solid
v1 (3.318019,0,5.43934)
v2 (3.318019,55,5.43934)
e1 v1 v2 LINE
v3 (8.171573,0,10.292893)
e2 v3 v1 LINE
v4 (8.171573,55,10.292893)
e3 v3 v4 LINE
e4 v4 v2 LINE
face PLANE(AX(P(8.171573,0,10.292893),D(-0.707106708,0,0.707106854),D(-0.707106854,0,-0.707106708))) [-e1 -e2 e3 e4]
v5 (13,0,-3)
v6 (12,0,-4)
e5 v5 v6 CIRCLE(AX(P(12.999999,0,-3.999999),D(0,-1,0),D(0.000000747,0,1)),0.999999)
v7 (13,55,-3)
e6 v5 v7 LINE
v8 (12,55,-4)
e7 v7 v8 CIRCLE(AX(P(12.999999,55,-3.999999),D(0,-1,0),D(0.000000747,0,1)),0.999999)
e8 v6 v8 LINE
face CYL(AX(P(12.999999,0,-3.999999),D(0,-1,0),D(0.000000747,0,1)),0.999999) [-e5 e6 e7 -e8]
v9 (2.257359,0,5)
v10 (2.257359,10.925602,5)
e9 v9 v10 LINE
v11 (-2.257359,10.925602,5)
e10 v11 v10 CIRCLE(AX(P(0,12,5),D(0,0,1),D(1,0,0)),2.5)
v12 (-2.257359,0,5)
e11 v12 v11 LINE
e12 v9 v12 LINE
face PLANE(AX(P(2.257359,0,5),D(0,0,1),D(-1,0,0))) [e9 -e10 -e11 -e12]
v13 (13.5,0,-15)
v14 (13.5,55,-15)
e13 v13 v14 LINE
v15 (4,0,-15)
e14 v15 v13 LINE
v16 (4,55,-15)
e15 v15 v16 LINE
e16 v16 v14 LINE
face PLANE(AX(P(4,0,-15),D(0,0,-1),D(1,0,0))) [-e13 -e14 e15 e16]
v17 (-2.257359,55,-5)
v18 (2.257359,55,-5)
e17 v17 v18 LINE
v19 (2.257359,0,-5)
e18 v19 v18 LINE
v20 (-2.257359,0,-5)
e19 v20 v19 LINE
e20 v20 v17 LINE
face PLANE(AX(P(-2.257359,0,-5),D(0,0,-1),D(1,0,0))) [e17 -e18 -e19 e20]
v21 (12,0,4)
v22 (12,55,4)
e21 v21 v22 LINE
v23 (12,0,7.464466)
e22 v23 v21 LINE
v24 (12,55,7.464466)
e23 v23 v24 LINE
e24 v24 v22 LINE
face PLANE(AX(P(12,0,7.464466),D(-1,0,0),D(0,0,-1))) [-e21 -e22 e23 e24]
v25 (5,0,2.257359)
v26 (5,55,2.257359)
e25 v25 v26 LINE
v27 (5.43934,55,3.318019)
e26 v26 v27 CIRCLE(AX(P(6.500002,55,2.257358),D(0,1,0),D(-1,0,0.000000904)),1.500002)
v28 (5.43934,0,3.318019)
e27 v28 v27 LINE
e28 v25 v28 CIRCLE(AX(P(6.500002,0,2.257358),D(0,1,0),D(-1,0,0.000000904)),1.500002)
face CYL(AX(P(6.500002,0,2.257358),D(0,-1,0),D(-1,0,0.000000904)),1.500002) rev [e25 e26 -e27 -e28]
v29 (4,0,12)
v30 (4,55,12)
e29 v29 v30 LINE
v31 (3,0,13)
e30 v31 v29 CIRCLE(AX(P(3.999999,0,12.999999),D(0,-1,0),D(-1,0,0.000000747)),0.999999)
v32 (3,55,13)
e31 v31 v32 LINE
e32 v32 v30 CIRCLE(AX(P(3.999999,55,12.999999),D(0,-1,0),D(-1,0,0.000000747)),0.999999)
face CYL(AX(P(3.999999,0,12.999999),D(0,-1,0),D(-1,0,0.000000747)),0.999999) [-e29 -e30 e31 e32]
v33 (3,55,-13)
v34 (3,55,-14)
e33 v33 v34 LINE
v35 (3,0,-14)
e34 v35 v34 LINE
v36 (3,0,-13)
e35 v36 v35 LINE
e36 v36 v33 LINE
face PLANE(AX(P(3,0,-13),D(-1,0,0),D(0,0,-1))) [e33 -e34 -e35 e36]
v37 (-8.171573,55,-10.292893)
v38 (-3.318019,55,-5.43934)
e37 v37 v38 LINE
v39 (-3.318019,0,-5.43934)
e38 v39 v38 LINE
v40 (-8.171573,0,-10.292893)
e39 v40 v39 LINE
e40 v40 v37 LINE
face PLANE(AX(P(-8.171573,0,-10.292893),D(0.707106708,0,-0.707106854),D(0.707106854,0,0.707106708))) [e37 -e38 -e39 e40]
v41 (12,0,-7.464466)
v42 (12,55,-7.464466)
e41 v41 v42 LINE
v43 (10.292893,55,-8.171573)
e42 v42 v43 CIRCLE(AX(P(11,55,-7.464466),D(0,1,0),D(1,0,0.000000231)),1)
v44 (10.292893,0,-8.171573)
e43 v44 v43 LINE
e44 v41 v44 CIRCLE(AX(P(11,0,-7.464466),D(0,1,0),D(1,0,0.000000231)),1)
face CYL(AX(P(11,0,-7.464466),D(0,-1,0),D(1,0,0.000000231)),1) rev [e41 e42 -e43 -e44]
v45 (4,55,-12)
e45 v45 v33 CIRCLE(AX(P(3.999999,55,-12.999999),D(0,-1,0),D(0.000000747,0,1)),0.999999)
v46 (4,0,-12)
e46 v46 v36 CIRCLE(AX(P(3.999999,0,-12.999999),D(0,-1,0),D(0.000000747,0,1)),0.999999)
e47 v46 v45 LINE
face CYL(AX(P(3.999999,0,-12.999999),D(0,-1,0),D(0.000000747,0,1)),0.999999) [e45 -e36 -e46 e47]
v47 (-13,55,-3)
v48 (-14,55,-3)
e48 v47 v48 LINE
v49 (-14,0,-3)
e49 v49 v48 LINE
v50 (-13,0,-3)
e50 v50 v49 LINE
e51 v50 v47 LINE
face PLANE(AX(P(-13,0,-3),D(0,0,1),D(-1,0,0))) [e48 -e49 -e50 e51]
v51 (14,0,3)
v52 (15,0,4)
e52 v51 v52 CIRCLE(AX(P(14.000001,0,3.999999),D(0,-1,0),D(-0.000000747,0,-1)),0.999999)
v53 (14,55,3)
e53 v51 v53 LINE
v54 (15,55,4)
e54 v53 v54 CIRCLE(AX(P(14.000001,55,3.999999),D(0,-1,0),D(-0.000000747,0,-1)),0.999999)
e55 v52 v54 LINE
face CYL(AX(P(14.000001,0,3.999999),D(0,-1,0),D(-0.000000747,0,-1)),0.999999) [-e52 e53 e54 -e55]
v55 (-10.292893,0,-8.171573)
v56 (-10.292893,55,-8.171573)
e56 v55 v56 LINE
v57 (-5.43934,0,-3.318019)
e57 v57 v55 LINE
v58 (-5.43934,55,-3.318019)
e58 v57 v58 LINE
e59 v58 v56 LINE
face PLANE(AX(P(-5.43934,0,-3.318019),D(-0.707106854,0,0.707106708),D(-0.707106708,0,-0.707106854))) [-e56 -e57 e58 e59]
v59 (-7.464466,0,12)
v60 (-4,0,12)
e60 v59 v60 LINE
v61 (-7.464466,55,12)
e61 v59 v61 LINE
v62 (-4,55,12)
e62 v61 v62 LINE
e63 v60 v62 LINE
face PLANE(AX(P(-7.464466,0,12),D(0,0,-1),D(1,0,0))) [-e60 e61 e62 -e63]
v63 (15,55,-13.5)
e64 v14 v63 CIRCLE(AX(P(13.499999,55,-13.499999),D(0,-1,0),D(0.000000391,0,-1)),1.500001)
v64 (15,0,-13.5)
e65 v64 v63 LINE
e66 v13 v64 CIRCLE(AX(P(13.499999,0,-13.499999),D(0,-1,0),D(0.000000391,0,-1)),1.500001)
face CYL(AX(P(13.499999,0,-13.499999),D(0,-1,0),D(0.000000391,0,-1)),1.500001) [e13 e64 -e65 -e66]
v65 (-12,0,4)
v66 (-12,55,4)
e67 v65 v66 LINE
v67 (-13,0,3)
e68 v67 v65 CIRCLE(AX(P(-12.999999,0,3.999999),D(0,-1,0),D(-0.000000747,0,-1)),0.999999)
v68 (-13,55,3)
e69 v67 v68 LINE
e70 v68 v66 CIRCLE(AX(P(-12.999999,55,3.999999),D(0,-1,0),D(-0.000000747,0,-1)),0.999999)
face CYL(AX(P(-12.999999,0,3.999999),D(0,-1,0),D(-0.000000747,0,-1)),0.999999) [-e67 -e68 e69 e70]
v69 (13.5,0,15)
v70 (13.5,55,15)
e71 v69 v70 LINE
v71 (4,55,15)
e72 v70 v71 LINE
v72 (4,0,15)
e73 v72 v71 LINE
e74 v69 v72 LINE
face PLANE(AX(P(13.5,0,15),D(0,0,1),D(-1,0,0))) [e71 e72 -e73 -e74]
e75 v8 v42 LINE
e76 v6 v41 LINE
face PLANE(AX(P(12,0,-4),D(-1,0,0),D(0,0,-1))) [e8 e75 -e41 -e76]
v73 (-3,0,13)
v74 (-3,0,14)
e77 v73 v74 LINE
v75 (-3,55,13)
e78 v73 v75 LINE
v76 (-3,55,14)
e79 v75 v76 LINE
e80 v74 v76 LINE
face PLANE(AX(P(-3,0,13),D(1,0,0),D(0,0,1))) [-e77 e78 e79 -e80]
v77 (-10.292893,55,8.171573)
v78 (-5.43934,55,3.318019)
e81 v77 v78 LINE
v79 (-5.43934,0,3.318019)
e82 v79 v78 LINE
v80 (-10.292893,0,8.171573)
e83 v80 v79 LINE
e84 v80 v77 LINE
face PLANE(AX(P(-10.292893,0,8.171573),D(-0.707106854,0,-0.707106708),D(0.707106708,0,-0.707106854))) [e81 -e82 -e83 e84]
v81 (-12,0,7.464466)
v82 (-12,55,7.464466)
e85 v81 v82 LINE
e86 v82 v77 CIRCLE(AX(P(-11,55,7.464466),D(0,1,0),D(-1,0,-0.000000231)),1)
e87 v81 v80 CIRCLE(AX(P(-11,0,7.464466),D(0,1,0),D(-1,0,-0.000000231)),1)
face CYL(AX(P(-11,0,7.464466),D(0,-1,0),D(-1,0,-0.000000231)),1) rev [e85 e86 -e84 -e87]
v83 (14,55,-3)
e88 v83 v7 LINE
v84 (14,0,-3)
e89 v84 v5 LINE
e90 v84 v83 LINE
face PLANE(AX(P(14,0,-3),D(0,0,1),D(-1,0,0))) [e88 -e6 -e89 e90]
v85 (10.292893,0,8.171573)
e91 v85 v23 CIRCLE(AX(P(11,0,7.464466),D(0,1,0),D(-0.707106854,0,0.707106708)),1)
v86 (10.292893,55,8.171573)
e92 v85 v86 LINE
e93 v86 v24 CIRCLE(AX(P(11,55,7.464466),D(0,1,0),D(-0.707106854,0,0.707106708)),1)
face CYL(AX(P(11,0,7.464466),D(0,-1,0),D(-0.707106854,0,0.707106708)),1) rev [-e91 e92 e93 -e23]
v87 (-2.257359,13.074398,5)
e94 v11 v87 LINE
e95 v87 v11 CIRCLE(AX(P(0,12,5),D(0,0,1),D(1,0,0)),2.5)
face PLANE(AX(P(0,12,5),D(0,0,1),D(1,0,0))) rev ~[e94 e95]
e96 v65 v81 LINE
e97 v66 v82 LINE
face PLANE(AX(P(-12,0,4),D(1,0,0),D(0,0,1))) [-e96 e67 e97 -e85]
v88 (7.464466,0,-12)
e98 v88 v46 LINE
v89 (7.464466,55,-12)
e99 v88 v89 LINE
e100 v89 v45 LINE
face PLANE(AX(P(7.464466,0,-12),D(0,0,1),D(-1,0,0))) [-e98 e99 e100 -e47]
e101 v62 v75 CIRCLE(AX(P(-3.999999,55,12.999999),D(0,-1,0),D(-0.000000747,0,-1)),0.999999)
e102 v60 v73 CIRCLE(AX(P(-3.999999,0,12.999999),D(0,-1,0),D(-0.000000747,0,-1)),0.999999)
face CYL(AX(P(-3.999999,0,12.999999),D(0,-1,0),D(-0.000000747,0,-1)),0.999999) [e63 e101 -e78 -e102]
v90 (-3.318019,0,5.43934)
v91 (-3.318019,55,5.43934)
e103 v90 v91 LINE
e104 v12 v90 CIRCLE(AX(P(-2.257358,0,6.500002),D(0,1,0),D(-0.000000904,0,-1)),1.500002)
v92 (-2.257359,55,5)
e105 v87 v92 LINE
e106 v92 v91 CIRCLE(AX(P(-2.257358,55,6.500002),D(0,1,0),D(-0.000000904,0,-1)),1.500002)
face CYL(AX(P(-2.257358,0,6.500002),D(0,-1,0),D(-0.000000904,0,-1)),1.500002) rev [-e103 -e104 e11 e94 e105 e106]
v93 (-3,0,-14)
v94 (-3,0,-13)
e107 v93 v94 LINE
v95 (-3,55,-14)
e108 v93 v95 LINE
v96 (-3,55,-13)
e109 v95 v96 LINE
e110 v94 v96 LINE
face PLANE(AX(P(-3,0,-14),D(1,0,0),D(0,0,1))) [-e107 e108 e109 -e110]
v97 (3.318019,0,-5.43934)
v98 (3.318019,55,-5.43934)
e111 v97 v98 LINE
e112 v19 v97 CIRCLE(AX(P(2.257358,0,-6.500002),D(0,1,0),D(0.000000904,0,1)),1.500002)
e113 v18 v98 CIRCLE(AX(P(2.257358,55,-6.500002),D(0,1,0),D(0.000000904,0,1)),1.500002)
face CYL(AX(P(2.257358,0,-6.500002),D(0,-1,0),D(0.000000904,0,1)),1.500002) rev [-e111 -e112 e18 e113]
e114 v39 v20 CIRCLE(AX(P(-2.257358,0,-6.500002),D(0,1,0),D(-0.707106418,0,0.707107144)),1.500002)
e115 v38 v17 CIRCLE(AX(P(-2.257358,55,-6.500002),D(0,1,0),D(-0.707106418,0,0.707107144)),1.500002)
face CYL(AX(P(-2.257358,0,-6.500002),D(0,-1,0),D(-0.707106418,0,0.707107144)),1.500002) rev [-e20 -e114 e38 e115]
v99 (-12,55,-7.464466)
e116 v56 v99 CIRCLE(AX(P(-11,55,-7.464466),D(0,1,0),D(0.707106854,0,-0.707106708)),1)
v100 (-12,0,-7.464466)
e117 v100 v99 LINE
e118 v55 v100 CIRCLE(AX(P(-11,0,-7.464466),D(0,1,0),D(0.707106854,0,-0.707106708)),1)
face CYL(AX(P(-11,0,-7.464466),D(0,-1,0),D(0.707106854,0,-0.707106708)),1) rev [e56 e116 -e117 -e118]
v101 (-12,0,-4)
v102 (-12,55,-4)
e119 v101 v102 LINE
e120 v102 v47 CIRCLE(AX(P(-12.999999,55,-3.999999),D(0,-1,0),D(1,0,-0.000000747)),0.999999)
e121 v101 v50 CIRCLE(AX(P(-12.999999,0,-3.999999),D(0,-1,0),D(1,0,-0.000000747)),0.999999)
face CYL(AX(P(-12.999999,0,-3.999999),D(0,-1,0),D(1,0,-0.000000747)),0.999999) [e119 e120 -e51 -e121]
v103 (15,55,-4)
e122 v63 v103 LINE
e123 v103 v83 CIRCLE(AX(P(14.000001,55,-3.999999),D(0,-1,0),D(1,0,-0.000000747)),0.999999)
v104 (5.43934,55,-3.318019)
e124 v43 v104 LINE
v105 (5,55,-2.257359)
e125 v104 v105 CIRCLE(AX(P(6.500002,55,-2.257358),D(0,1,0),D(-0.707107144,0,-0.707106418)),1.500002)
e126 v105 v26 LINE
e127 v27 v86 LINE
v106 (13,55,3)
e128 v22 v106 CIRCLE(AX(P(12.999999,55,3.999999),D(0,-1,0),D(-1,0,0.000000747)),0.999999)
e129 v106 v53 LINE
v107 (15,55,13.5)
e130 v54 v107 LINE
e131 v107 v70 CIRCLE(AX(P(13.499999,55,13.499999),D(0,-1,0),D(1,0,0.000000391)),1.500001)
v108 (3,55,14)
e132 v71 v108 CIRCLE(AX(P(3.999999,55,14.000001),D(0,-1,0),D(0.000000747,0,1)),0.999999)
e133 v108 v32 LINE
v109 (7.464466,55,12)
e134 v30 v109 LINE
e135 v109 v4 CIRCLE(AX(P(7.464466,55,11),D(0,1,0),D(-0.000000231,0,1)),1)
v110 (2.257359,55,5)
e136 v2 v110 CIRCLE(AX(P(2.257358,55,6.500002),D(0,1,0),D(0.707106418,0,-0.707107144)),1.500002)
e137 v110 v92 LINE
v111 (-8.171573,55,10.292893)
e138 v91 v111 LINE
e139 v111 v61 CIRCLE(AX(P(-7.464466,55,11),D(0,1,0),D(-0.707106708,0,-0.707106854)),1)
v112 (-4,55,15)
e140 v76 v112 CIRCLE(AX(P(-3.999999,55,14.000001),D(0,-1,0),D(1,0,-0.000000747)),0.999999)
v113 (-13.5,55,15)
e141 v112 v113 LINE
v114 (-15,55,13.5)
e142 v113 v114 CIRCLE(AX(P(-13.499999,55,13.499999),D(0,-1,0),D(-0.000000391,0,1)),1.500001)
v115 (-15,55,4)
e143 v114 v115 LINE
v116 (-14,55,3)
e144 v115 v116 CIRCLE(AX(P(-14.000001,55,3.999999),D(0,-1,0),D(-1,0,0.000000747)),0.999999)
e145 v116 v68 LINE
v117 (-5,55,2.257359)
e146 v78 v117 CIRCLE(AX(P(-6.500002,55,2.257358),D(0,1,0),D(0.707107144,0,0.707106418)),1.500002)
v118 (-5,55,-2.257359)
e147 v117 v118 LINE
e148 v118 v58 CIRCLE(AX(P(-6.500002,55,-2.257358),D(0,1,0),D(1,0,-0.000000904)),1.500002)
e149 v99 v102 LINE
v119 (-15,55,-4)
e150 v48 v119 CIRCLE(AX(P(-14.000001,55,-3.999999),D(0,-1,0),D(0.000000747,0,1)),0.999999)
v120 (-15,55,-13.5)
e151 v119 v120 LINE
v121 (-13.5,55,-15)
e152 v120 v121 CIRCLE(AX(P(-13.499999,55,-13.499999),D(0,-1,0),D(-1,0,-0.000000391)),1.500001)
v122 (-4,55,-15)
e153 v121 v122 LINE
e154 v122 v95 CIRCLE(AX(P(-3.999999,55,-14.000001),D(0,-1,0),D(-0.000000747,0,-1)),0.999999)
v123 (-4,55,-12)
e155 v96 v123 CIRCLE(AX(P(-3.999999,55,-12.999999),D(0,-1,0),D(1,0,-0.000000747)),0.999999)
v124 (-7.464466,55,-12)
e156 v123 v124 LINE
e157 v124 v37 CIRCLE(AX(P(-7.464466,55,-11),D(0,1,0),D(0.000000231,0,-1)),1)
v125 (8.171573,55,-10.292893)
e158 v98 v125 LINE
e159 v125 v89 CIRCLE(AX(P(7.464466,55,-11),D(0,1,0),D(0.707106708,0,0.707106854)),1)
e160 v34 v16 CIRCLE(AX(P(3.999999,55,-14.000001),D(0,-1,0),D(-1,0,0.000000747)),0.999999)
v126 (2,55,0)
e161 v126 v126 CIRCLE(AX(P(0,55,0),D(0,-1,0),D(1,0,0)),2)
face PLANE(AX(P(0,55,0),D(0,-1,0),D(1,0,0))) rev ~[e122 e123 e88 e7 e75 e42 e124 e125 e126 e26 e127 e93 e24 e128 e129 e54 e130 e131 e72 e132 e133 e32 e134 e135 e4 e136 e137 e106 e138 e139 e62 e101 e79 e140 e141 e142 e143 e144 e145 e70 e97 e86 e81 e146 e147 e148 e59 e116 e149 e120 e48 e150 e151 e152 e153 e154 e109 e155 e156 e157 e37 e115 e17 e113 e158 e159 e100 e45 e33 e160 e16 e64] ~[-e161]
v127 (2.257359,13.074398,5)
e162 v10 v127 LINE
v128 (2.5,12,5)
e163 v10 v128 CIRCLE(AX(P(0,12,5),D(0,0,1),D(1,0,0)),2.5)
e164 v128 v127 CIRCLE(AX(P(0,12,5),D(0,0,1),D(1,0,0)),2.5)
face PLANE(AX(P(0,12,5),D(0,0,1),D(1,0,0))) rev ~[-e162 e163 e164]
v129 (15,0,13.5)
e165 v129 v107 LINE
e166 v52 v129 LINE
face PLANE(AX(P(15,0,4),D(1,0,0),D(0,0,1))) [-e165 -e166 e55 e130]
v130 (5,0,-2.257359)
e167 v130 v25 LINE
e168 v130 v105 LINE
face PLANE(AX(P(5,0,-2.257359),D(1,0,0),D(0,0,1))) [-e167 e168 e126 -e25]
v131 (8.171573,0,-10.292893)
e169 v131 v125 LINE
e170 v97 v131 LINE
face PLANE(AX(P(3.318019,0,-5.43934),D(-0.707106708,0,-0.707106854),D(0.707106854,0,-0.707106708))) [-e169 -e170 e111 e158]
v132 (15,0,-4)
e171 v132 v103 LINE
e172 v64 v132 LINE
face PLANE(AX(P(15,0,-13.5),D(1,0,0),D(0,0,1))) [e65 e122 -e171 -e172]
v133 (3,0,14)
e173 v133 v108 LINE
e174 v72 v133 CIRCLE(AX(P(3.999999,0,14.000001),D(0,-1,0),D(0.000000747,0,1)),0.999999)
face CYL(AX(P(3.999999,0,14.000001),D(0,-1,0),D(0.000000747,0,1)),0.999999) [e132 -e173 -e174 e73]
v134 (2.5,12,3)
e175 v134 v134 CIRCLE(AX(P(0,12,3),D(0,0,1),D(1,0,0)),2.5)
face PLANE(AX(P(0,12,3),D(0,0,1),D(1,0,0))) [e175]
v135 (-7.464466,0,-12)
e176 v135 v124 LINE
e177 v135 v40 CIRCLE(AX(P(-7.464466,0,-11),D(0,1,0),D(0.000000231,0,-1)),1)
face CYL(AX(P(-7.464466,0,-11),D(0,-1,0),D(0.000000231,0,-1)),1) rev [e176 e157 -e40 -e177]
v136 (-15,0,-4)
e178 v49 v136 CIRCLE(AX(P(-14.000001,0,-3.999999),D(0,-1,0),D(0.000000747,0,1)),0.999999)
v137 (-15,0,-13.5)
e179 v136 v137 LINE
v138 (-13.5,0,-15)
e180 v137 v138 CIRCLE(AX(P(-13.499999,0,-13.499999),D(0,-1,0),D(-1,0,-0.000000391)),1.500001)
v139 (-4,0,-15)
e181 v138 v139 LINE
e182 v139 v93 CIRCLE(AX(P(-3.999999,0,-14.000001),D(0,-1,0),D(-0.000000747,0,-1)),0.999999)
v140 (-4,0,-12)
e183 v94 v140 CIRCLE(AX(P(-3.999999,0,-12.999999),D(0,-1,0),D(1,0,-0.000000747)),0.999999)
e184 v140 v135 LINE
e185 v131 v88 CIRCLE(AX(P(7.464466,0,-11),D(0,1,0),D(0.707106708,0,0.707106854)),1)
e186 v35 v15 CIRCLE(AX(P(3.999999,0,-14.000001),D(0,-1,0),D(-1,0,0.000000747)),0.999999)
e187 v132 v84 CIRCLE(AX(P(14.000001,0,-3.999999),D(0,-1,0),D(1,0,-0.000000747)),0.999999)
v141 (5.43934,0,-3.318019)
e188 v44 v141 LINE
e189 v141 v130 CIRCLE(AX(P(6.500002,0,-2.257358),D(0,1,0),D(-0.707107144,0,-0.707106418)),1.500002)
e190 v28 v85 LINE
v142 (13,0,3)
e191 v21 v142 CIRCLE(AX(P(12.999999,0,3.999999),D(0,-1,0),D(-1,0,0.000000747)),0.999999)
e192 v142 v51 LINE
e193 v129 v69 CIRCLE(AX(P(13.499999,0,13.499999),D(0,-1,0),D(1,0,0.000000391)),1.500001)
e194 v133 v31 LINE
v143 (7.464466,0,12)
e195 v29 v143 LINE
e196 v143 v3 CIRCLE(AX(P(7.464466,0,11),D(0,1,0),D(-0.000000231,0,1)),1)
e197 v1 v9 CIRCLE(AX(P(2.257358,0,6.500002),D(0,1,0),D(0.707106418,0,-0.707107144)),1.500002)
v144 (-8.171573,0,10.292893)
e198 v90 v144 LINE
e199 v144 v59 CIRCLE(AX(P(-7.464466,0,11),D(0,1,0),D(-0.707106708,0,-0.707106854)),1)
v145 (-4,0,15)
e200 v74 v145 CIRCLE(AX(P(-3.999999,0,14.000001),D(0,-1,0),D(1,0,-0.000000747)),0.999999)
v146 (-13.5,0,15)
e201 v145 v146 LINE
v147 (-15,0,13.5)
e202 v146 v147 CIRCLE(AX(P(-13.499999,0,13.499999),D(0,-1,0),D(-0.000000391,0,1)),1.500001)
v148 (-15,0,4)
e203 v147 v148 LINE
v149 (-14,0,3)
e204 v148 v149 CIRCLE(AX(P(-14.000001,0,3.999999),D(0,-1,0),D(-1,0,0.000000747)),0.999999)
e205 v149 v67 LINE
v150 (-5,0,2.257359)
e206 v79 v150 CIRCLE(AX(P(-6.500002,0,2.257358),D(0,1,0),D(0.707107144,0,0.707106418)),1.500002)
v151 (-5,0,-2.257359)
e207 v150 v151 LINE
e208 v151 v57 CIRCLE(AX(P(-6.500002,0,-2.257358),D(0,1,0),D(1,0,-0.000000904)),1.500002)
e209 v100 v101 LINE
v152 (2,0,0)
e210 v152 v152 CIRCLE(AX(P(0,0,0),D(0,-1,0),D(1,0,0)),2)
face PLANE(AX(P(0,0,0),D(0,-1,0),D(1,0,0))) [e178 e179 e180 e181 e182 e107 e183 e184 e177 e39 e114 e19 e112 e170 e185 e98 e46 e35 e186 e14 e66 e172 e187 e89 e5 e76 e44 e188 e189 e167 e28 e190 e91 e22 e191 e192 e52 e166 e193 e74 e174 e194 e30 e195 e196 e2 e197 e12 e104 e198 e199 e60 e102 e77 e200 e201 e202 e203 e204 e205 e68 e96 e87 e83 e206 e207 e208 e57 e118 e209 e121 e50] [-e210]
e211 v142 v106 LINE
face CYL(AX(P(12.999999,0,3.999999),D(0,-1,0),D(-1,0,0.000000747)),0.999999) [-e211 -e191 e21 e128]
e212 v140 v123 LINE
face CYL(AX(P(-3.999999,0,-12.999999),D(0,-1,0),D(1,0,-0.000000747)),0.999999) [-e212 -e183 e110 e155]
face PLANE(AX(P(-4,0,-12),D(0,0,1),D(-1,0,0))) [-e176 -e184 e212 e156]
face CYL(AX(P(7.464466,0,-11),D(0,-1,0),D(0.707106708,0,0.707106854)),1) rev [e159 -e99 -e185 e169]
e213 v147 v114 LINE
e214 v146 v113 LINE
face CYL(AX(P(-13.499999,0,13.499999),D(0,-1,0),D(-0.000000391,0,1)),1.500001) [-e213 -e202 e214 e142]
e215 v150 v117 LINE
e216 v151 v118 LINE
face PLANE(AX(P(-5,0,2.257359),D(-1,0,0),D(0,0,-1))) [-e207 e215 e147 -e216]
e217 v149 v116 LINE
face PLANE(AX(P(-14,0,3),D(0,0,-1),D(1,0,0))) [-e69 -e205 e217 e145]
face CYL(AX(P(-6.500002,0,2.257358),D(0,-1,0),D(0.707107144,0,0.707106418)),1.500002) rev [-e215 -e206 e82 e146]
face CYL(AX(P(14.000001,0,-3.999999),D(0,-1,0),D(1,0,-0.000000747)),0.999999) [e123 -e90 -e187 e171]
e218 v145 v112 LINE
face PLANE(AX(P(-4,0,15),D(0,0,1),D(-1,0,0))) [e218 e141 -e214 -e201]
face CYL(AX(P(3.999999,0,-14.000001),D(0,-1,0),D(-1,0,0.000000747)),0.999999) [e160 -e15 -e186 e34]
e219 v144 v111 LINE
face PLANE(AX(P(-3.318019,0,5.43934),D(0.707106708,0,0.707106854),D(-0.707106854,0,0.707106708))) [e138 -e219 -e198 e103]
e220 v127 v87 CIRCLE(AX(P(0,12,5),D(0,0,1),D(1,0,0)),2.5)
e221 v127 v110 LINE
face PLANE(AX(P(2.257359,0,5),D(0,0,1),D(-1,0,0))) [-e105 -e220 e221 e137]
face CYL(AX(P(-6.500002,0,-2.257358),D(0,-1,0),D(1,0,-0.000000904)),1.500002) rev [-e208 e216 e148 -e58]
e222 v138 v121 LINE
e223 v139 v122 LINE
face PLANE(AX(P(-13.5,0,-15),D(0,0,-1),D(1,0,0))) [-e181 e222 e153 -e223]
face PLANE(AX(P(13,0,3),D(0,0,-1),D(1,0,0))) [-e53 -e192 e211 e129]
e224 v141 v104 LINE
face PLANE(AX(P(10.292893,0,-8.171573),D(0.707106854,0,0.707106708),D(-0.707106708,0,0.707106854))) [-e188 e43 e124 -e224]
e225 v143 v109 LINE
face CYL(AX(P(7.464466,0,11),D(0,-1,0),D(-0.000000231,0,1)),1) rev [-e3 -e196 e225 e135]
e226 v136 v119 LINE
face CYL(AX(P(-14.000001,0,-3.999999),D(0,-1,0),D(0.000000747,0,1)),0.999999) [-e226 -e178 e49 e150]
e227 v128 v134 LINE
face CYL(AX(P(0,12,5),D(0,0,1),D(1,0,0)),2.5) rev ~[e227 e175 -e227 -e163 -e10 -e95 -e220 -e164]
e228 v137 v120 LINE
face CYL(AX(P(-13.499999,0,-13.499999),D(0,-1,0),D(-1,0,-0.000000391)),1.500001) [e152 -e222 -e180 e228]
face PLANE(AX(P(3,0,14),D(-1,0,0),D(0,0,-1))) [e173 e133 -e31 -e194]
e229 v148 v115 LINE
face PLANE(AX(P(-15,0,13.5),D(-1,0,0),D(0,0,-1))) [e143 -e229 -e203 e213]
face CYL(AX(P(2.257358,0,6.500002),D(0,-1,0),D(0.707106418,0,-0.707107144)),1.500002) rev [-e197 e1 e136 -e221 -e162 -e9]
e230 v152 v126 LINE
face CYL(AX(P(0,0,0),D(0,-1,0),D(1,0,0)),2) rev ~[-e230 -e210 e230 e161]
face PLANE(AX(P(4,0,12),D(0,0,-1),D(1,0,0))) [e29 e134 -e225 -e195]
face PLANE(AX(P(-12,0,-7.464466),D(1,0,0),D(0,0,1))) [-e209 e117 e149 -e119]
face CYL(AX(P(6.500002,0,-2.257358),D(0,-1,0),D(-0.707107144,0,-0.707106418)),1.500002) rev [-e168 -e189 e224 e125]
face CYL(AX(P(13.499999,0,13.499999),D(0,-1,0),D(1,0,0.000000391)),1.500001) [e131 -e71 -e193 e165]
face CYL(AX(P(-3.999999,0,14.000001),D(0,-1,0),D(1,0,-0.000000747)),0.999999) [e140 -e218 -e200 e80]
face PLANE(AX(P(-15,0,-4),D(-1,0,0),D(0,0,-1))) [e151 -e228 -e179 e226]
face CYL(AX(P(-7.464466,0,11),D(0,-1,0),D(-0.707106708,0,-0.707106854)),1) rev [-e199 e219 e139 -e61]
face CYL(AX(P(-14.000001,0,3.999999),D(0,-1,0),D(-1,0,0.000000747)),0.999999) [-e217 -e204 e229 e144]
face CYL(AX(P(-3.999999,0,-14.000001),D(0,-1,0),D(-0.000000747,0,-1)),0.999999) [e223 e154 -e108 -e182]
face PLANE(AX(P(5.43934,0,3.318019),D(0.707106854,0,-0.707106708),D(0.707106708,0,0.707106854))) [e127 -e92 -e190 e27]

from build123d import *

# Parameters (mm, degrees)
F0_R     = 2
F1_DEPTH = 55
F2_R     = 2.5
F3_DEPTH = 2


with BuildPart() as f1:
    # F0 (on Front) → F1 (new body)
    with BuildSketch(Plane.XZ):
        with BuildLine():
            ThreePointArc((15, 13.5), (14.56066, 14.56066), (13.5, 15))
            Line((13.5, 15), (4, 15))
            ThreePointArc((4, 15), (3.292893, 14.707107), (3, 14))
            Line((3, 14), (3, 13))
            ThreePointArc((3, 13), (3.292893, 12.292893), (4, 12))
            Line((4, 12), (7.464466, 12))
            ThreePointArc((7.464466, 12), (8.388346, 11.382683), (8.171573, 10.292893))
            Line((8.171573, 10.292893), (3.318019, 5.43934))
            ThreePointArc((3.318019, 5.43934), (2.831384, 5.114181), (2.257359, 5))
            Line((2.257359, 5), (-2.257359, 5))
            ThreePointArc((-2.257359, 5), (-2.831384, 5.114181), (-3.318019, 5.43934))
            Line((-3.318019, 5.43934), (-8.171573, 10.292893))
            ThreePointArc((-8.171573, 10.292893), (-8.388346, 11.382683), (-7.464466, 12))
            Line((-7.464466, 12), (-4, 12))
            ThreePointArc((-4, 12), (-3.292893, 12.292893), (-3, 13))
            Line((-3, 13), (-3, 14))
            ThreePointArc((-3, 14), (-3.292893, 14.707107), (-4, 15))
            Line((-4, 15), (-13.5, 15))
            ThreePointArc((-13.5, 15), (-14.56066, 14.56066), (-15, 13.5))
            Line((-15, 13.5), (-15, 4))
            ThreePointArc((-15, 4), (-14.707107, 3.292893), (-14, 3))
            Line((-14, 3), (-13, 3))
            ThreePointArc((-13, 3), (-12.292893, 3.292893), (-12, 4))
            Line((-12, 4), (-12, 7.464466))
            ThreePointArc((-12, 7.464466), (-11.382683, 8.388346), (-10.292893, 8.171573))
            Line((-10.292893, 8.171573), (-5.43934, 3.318019))
            ThreePointArc((-5.43934, 3.318019), (-5.114181, 2.831384), (-5, 2.257359))
            Line((-5, 2.257359), (-5, -2.257359))
            ThreePointArc((-5, -2.257359), (-5.114181, -2.831384), (-5.43934, -3.318019))
            Line((-5.43934, -3.318019), (-10.292893, -8.171573))
            ThreePointArc((-10.292893, -8.171573), (-11.382683, -8.388346), (-12, -7.464466))
            Line((-12, -7.464466), (-12, -4))
            ThreePointArc((-12, -4), (-12.292893, -3.292893), (-13, -3))
            Line((-13, -3), (-14, -3))
            ThreePointArc((-14, -3), (-14.707107, -3.292893), (-15, -4))
            Line((-15, -4), (-15, -13.5))
            ThreePointArc((-15, -13.5), (-14.56066, -14.56066), (-13.5, -15))
            Line((-13.5, -15), (-4, -15))
            ThreePointArc((-4, -15), (-3.292893, -14.707107), (-3, -14))
            Line((-3, -14), (-3, -13))
            ThreePointArc((-3, -13), (-3.292893, -12.292893), (-4, -12))
            Line((-4, -12), (-7.464466, -12))
            ThreePointArc((-7.464466, -12), (-8.388346, -11.382683), (-8.171573, -10.292893))
            Line((-8.171573, -10.292893), (-3.318019, -5.43934))
            ThreePointArc((-3.318019, -5.43934), (-2.831384, -5.114181), (-2.257359, -5))
            Line((-2.257359, -5), (2.257359, -5))
            ThreePointArc((2.257359, -5), (2.831384, -5.114181), (3.318019, -5.43934))
            Line((3.318019, -5.43934), (8.171573, -10.292893))
            ThreePointArc((8.171573, -10.292893), (8.388346, -11.382683), (7.464466, -12))
            Line((7.464466, -12), (4, -12))
            ThreePointArc((4, -12), (3.292893, -12.292893), (3, -13))
            Line((3, -13), (3, -14))
            ThreePointArc((3, -14), (3.292893, -14.707107), (4, -15))
            Line((4, -15), (13.5, -15))
            ThreePointArc((13.5, -15), (14.56066, -14.56066), (15, -13.5))
            Line((15, -13.5), (15, -4))
            ThreePointArc((15, -4), (14.707107, -3.292893), (14, -3))
            Line((14, -3), (13, -3))
            ThreePointArc((13, -3), (12.292893, -3.292893), (12, -4))
            Line((12, -4), (12, -7.464466))
            ThreePointArc((12, -7.464466), (11.382683, -8.388346), (10.292893, -8.171573))
            Line((10.292893, -8.171573), (5.43934, -3.318019))
            ThreePointArc((5.43934, -3.318019), (5.114181, -2.831384), (5, -2.257359))
            Line((5, -2.257359), (5, 2.257359))
            ThreePointArc((5, 2.257359), (5.114181, 2.831384), (5.43934, 3.318019))
            Line((5.43934, 3.318019), (10.292893, 8.171573))
            ThreePointArc((10.292893, 8.171573), (11.382683, 8.388346), (12, 7.464466))
            Line((12, 7.464466), (12, 4))
            ThreePointArc((12, 4), (12.292893, 3.292893), (13, 3))
            Line((13, 3), (14, 3))
            ThreePointArc((14, 3), (14.707107, 3.292893), (15, 4))
            Line((15, 4), (15, 13.5))
        make_face()
        Circle(F0_R, mode=Mode.SUBTRACT)
    extrude(amount=-F1_DEPTH)

    # F2 (on face) → F3 (cut)
    with BuildSketch(Plane.XY.offset(5)):
        with Locations((0, 12)):
            Circle(F2_R)
    extrude(amount=-F3_DEPTH, mode=Mode.SUBTRACT)


solid = f1.part
